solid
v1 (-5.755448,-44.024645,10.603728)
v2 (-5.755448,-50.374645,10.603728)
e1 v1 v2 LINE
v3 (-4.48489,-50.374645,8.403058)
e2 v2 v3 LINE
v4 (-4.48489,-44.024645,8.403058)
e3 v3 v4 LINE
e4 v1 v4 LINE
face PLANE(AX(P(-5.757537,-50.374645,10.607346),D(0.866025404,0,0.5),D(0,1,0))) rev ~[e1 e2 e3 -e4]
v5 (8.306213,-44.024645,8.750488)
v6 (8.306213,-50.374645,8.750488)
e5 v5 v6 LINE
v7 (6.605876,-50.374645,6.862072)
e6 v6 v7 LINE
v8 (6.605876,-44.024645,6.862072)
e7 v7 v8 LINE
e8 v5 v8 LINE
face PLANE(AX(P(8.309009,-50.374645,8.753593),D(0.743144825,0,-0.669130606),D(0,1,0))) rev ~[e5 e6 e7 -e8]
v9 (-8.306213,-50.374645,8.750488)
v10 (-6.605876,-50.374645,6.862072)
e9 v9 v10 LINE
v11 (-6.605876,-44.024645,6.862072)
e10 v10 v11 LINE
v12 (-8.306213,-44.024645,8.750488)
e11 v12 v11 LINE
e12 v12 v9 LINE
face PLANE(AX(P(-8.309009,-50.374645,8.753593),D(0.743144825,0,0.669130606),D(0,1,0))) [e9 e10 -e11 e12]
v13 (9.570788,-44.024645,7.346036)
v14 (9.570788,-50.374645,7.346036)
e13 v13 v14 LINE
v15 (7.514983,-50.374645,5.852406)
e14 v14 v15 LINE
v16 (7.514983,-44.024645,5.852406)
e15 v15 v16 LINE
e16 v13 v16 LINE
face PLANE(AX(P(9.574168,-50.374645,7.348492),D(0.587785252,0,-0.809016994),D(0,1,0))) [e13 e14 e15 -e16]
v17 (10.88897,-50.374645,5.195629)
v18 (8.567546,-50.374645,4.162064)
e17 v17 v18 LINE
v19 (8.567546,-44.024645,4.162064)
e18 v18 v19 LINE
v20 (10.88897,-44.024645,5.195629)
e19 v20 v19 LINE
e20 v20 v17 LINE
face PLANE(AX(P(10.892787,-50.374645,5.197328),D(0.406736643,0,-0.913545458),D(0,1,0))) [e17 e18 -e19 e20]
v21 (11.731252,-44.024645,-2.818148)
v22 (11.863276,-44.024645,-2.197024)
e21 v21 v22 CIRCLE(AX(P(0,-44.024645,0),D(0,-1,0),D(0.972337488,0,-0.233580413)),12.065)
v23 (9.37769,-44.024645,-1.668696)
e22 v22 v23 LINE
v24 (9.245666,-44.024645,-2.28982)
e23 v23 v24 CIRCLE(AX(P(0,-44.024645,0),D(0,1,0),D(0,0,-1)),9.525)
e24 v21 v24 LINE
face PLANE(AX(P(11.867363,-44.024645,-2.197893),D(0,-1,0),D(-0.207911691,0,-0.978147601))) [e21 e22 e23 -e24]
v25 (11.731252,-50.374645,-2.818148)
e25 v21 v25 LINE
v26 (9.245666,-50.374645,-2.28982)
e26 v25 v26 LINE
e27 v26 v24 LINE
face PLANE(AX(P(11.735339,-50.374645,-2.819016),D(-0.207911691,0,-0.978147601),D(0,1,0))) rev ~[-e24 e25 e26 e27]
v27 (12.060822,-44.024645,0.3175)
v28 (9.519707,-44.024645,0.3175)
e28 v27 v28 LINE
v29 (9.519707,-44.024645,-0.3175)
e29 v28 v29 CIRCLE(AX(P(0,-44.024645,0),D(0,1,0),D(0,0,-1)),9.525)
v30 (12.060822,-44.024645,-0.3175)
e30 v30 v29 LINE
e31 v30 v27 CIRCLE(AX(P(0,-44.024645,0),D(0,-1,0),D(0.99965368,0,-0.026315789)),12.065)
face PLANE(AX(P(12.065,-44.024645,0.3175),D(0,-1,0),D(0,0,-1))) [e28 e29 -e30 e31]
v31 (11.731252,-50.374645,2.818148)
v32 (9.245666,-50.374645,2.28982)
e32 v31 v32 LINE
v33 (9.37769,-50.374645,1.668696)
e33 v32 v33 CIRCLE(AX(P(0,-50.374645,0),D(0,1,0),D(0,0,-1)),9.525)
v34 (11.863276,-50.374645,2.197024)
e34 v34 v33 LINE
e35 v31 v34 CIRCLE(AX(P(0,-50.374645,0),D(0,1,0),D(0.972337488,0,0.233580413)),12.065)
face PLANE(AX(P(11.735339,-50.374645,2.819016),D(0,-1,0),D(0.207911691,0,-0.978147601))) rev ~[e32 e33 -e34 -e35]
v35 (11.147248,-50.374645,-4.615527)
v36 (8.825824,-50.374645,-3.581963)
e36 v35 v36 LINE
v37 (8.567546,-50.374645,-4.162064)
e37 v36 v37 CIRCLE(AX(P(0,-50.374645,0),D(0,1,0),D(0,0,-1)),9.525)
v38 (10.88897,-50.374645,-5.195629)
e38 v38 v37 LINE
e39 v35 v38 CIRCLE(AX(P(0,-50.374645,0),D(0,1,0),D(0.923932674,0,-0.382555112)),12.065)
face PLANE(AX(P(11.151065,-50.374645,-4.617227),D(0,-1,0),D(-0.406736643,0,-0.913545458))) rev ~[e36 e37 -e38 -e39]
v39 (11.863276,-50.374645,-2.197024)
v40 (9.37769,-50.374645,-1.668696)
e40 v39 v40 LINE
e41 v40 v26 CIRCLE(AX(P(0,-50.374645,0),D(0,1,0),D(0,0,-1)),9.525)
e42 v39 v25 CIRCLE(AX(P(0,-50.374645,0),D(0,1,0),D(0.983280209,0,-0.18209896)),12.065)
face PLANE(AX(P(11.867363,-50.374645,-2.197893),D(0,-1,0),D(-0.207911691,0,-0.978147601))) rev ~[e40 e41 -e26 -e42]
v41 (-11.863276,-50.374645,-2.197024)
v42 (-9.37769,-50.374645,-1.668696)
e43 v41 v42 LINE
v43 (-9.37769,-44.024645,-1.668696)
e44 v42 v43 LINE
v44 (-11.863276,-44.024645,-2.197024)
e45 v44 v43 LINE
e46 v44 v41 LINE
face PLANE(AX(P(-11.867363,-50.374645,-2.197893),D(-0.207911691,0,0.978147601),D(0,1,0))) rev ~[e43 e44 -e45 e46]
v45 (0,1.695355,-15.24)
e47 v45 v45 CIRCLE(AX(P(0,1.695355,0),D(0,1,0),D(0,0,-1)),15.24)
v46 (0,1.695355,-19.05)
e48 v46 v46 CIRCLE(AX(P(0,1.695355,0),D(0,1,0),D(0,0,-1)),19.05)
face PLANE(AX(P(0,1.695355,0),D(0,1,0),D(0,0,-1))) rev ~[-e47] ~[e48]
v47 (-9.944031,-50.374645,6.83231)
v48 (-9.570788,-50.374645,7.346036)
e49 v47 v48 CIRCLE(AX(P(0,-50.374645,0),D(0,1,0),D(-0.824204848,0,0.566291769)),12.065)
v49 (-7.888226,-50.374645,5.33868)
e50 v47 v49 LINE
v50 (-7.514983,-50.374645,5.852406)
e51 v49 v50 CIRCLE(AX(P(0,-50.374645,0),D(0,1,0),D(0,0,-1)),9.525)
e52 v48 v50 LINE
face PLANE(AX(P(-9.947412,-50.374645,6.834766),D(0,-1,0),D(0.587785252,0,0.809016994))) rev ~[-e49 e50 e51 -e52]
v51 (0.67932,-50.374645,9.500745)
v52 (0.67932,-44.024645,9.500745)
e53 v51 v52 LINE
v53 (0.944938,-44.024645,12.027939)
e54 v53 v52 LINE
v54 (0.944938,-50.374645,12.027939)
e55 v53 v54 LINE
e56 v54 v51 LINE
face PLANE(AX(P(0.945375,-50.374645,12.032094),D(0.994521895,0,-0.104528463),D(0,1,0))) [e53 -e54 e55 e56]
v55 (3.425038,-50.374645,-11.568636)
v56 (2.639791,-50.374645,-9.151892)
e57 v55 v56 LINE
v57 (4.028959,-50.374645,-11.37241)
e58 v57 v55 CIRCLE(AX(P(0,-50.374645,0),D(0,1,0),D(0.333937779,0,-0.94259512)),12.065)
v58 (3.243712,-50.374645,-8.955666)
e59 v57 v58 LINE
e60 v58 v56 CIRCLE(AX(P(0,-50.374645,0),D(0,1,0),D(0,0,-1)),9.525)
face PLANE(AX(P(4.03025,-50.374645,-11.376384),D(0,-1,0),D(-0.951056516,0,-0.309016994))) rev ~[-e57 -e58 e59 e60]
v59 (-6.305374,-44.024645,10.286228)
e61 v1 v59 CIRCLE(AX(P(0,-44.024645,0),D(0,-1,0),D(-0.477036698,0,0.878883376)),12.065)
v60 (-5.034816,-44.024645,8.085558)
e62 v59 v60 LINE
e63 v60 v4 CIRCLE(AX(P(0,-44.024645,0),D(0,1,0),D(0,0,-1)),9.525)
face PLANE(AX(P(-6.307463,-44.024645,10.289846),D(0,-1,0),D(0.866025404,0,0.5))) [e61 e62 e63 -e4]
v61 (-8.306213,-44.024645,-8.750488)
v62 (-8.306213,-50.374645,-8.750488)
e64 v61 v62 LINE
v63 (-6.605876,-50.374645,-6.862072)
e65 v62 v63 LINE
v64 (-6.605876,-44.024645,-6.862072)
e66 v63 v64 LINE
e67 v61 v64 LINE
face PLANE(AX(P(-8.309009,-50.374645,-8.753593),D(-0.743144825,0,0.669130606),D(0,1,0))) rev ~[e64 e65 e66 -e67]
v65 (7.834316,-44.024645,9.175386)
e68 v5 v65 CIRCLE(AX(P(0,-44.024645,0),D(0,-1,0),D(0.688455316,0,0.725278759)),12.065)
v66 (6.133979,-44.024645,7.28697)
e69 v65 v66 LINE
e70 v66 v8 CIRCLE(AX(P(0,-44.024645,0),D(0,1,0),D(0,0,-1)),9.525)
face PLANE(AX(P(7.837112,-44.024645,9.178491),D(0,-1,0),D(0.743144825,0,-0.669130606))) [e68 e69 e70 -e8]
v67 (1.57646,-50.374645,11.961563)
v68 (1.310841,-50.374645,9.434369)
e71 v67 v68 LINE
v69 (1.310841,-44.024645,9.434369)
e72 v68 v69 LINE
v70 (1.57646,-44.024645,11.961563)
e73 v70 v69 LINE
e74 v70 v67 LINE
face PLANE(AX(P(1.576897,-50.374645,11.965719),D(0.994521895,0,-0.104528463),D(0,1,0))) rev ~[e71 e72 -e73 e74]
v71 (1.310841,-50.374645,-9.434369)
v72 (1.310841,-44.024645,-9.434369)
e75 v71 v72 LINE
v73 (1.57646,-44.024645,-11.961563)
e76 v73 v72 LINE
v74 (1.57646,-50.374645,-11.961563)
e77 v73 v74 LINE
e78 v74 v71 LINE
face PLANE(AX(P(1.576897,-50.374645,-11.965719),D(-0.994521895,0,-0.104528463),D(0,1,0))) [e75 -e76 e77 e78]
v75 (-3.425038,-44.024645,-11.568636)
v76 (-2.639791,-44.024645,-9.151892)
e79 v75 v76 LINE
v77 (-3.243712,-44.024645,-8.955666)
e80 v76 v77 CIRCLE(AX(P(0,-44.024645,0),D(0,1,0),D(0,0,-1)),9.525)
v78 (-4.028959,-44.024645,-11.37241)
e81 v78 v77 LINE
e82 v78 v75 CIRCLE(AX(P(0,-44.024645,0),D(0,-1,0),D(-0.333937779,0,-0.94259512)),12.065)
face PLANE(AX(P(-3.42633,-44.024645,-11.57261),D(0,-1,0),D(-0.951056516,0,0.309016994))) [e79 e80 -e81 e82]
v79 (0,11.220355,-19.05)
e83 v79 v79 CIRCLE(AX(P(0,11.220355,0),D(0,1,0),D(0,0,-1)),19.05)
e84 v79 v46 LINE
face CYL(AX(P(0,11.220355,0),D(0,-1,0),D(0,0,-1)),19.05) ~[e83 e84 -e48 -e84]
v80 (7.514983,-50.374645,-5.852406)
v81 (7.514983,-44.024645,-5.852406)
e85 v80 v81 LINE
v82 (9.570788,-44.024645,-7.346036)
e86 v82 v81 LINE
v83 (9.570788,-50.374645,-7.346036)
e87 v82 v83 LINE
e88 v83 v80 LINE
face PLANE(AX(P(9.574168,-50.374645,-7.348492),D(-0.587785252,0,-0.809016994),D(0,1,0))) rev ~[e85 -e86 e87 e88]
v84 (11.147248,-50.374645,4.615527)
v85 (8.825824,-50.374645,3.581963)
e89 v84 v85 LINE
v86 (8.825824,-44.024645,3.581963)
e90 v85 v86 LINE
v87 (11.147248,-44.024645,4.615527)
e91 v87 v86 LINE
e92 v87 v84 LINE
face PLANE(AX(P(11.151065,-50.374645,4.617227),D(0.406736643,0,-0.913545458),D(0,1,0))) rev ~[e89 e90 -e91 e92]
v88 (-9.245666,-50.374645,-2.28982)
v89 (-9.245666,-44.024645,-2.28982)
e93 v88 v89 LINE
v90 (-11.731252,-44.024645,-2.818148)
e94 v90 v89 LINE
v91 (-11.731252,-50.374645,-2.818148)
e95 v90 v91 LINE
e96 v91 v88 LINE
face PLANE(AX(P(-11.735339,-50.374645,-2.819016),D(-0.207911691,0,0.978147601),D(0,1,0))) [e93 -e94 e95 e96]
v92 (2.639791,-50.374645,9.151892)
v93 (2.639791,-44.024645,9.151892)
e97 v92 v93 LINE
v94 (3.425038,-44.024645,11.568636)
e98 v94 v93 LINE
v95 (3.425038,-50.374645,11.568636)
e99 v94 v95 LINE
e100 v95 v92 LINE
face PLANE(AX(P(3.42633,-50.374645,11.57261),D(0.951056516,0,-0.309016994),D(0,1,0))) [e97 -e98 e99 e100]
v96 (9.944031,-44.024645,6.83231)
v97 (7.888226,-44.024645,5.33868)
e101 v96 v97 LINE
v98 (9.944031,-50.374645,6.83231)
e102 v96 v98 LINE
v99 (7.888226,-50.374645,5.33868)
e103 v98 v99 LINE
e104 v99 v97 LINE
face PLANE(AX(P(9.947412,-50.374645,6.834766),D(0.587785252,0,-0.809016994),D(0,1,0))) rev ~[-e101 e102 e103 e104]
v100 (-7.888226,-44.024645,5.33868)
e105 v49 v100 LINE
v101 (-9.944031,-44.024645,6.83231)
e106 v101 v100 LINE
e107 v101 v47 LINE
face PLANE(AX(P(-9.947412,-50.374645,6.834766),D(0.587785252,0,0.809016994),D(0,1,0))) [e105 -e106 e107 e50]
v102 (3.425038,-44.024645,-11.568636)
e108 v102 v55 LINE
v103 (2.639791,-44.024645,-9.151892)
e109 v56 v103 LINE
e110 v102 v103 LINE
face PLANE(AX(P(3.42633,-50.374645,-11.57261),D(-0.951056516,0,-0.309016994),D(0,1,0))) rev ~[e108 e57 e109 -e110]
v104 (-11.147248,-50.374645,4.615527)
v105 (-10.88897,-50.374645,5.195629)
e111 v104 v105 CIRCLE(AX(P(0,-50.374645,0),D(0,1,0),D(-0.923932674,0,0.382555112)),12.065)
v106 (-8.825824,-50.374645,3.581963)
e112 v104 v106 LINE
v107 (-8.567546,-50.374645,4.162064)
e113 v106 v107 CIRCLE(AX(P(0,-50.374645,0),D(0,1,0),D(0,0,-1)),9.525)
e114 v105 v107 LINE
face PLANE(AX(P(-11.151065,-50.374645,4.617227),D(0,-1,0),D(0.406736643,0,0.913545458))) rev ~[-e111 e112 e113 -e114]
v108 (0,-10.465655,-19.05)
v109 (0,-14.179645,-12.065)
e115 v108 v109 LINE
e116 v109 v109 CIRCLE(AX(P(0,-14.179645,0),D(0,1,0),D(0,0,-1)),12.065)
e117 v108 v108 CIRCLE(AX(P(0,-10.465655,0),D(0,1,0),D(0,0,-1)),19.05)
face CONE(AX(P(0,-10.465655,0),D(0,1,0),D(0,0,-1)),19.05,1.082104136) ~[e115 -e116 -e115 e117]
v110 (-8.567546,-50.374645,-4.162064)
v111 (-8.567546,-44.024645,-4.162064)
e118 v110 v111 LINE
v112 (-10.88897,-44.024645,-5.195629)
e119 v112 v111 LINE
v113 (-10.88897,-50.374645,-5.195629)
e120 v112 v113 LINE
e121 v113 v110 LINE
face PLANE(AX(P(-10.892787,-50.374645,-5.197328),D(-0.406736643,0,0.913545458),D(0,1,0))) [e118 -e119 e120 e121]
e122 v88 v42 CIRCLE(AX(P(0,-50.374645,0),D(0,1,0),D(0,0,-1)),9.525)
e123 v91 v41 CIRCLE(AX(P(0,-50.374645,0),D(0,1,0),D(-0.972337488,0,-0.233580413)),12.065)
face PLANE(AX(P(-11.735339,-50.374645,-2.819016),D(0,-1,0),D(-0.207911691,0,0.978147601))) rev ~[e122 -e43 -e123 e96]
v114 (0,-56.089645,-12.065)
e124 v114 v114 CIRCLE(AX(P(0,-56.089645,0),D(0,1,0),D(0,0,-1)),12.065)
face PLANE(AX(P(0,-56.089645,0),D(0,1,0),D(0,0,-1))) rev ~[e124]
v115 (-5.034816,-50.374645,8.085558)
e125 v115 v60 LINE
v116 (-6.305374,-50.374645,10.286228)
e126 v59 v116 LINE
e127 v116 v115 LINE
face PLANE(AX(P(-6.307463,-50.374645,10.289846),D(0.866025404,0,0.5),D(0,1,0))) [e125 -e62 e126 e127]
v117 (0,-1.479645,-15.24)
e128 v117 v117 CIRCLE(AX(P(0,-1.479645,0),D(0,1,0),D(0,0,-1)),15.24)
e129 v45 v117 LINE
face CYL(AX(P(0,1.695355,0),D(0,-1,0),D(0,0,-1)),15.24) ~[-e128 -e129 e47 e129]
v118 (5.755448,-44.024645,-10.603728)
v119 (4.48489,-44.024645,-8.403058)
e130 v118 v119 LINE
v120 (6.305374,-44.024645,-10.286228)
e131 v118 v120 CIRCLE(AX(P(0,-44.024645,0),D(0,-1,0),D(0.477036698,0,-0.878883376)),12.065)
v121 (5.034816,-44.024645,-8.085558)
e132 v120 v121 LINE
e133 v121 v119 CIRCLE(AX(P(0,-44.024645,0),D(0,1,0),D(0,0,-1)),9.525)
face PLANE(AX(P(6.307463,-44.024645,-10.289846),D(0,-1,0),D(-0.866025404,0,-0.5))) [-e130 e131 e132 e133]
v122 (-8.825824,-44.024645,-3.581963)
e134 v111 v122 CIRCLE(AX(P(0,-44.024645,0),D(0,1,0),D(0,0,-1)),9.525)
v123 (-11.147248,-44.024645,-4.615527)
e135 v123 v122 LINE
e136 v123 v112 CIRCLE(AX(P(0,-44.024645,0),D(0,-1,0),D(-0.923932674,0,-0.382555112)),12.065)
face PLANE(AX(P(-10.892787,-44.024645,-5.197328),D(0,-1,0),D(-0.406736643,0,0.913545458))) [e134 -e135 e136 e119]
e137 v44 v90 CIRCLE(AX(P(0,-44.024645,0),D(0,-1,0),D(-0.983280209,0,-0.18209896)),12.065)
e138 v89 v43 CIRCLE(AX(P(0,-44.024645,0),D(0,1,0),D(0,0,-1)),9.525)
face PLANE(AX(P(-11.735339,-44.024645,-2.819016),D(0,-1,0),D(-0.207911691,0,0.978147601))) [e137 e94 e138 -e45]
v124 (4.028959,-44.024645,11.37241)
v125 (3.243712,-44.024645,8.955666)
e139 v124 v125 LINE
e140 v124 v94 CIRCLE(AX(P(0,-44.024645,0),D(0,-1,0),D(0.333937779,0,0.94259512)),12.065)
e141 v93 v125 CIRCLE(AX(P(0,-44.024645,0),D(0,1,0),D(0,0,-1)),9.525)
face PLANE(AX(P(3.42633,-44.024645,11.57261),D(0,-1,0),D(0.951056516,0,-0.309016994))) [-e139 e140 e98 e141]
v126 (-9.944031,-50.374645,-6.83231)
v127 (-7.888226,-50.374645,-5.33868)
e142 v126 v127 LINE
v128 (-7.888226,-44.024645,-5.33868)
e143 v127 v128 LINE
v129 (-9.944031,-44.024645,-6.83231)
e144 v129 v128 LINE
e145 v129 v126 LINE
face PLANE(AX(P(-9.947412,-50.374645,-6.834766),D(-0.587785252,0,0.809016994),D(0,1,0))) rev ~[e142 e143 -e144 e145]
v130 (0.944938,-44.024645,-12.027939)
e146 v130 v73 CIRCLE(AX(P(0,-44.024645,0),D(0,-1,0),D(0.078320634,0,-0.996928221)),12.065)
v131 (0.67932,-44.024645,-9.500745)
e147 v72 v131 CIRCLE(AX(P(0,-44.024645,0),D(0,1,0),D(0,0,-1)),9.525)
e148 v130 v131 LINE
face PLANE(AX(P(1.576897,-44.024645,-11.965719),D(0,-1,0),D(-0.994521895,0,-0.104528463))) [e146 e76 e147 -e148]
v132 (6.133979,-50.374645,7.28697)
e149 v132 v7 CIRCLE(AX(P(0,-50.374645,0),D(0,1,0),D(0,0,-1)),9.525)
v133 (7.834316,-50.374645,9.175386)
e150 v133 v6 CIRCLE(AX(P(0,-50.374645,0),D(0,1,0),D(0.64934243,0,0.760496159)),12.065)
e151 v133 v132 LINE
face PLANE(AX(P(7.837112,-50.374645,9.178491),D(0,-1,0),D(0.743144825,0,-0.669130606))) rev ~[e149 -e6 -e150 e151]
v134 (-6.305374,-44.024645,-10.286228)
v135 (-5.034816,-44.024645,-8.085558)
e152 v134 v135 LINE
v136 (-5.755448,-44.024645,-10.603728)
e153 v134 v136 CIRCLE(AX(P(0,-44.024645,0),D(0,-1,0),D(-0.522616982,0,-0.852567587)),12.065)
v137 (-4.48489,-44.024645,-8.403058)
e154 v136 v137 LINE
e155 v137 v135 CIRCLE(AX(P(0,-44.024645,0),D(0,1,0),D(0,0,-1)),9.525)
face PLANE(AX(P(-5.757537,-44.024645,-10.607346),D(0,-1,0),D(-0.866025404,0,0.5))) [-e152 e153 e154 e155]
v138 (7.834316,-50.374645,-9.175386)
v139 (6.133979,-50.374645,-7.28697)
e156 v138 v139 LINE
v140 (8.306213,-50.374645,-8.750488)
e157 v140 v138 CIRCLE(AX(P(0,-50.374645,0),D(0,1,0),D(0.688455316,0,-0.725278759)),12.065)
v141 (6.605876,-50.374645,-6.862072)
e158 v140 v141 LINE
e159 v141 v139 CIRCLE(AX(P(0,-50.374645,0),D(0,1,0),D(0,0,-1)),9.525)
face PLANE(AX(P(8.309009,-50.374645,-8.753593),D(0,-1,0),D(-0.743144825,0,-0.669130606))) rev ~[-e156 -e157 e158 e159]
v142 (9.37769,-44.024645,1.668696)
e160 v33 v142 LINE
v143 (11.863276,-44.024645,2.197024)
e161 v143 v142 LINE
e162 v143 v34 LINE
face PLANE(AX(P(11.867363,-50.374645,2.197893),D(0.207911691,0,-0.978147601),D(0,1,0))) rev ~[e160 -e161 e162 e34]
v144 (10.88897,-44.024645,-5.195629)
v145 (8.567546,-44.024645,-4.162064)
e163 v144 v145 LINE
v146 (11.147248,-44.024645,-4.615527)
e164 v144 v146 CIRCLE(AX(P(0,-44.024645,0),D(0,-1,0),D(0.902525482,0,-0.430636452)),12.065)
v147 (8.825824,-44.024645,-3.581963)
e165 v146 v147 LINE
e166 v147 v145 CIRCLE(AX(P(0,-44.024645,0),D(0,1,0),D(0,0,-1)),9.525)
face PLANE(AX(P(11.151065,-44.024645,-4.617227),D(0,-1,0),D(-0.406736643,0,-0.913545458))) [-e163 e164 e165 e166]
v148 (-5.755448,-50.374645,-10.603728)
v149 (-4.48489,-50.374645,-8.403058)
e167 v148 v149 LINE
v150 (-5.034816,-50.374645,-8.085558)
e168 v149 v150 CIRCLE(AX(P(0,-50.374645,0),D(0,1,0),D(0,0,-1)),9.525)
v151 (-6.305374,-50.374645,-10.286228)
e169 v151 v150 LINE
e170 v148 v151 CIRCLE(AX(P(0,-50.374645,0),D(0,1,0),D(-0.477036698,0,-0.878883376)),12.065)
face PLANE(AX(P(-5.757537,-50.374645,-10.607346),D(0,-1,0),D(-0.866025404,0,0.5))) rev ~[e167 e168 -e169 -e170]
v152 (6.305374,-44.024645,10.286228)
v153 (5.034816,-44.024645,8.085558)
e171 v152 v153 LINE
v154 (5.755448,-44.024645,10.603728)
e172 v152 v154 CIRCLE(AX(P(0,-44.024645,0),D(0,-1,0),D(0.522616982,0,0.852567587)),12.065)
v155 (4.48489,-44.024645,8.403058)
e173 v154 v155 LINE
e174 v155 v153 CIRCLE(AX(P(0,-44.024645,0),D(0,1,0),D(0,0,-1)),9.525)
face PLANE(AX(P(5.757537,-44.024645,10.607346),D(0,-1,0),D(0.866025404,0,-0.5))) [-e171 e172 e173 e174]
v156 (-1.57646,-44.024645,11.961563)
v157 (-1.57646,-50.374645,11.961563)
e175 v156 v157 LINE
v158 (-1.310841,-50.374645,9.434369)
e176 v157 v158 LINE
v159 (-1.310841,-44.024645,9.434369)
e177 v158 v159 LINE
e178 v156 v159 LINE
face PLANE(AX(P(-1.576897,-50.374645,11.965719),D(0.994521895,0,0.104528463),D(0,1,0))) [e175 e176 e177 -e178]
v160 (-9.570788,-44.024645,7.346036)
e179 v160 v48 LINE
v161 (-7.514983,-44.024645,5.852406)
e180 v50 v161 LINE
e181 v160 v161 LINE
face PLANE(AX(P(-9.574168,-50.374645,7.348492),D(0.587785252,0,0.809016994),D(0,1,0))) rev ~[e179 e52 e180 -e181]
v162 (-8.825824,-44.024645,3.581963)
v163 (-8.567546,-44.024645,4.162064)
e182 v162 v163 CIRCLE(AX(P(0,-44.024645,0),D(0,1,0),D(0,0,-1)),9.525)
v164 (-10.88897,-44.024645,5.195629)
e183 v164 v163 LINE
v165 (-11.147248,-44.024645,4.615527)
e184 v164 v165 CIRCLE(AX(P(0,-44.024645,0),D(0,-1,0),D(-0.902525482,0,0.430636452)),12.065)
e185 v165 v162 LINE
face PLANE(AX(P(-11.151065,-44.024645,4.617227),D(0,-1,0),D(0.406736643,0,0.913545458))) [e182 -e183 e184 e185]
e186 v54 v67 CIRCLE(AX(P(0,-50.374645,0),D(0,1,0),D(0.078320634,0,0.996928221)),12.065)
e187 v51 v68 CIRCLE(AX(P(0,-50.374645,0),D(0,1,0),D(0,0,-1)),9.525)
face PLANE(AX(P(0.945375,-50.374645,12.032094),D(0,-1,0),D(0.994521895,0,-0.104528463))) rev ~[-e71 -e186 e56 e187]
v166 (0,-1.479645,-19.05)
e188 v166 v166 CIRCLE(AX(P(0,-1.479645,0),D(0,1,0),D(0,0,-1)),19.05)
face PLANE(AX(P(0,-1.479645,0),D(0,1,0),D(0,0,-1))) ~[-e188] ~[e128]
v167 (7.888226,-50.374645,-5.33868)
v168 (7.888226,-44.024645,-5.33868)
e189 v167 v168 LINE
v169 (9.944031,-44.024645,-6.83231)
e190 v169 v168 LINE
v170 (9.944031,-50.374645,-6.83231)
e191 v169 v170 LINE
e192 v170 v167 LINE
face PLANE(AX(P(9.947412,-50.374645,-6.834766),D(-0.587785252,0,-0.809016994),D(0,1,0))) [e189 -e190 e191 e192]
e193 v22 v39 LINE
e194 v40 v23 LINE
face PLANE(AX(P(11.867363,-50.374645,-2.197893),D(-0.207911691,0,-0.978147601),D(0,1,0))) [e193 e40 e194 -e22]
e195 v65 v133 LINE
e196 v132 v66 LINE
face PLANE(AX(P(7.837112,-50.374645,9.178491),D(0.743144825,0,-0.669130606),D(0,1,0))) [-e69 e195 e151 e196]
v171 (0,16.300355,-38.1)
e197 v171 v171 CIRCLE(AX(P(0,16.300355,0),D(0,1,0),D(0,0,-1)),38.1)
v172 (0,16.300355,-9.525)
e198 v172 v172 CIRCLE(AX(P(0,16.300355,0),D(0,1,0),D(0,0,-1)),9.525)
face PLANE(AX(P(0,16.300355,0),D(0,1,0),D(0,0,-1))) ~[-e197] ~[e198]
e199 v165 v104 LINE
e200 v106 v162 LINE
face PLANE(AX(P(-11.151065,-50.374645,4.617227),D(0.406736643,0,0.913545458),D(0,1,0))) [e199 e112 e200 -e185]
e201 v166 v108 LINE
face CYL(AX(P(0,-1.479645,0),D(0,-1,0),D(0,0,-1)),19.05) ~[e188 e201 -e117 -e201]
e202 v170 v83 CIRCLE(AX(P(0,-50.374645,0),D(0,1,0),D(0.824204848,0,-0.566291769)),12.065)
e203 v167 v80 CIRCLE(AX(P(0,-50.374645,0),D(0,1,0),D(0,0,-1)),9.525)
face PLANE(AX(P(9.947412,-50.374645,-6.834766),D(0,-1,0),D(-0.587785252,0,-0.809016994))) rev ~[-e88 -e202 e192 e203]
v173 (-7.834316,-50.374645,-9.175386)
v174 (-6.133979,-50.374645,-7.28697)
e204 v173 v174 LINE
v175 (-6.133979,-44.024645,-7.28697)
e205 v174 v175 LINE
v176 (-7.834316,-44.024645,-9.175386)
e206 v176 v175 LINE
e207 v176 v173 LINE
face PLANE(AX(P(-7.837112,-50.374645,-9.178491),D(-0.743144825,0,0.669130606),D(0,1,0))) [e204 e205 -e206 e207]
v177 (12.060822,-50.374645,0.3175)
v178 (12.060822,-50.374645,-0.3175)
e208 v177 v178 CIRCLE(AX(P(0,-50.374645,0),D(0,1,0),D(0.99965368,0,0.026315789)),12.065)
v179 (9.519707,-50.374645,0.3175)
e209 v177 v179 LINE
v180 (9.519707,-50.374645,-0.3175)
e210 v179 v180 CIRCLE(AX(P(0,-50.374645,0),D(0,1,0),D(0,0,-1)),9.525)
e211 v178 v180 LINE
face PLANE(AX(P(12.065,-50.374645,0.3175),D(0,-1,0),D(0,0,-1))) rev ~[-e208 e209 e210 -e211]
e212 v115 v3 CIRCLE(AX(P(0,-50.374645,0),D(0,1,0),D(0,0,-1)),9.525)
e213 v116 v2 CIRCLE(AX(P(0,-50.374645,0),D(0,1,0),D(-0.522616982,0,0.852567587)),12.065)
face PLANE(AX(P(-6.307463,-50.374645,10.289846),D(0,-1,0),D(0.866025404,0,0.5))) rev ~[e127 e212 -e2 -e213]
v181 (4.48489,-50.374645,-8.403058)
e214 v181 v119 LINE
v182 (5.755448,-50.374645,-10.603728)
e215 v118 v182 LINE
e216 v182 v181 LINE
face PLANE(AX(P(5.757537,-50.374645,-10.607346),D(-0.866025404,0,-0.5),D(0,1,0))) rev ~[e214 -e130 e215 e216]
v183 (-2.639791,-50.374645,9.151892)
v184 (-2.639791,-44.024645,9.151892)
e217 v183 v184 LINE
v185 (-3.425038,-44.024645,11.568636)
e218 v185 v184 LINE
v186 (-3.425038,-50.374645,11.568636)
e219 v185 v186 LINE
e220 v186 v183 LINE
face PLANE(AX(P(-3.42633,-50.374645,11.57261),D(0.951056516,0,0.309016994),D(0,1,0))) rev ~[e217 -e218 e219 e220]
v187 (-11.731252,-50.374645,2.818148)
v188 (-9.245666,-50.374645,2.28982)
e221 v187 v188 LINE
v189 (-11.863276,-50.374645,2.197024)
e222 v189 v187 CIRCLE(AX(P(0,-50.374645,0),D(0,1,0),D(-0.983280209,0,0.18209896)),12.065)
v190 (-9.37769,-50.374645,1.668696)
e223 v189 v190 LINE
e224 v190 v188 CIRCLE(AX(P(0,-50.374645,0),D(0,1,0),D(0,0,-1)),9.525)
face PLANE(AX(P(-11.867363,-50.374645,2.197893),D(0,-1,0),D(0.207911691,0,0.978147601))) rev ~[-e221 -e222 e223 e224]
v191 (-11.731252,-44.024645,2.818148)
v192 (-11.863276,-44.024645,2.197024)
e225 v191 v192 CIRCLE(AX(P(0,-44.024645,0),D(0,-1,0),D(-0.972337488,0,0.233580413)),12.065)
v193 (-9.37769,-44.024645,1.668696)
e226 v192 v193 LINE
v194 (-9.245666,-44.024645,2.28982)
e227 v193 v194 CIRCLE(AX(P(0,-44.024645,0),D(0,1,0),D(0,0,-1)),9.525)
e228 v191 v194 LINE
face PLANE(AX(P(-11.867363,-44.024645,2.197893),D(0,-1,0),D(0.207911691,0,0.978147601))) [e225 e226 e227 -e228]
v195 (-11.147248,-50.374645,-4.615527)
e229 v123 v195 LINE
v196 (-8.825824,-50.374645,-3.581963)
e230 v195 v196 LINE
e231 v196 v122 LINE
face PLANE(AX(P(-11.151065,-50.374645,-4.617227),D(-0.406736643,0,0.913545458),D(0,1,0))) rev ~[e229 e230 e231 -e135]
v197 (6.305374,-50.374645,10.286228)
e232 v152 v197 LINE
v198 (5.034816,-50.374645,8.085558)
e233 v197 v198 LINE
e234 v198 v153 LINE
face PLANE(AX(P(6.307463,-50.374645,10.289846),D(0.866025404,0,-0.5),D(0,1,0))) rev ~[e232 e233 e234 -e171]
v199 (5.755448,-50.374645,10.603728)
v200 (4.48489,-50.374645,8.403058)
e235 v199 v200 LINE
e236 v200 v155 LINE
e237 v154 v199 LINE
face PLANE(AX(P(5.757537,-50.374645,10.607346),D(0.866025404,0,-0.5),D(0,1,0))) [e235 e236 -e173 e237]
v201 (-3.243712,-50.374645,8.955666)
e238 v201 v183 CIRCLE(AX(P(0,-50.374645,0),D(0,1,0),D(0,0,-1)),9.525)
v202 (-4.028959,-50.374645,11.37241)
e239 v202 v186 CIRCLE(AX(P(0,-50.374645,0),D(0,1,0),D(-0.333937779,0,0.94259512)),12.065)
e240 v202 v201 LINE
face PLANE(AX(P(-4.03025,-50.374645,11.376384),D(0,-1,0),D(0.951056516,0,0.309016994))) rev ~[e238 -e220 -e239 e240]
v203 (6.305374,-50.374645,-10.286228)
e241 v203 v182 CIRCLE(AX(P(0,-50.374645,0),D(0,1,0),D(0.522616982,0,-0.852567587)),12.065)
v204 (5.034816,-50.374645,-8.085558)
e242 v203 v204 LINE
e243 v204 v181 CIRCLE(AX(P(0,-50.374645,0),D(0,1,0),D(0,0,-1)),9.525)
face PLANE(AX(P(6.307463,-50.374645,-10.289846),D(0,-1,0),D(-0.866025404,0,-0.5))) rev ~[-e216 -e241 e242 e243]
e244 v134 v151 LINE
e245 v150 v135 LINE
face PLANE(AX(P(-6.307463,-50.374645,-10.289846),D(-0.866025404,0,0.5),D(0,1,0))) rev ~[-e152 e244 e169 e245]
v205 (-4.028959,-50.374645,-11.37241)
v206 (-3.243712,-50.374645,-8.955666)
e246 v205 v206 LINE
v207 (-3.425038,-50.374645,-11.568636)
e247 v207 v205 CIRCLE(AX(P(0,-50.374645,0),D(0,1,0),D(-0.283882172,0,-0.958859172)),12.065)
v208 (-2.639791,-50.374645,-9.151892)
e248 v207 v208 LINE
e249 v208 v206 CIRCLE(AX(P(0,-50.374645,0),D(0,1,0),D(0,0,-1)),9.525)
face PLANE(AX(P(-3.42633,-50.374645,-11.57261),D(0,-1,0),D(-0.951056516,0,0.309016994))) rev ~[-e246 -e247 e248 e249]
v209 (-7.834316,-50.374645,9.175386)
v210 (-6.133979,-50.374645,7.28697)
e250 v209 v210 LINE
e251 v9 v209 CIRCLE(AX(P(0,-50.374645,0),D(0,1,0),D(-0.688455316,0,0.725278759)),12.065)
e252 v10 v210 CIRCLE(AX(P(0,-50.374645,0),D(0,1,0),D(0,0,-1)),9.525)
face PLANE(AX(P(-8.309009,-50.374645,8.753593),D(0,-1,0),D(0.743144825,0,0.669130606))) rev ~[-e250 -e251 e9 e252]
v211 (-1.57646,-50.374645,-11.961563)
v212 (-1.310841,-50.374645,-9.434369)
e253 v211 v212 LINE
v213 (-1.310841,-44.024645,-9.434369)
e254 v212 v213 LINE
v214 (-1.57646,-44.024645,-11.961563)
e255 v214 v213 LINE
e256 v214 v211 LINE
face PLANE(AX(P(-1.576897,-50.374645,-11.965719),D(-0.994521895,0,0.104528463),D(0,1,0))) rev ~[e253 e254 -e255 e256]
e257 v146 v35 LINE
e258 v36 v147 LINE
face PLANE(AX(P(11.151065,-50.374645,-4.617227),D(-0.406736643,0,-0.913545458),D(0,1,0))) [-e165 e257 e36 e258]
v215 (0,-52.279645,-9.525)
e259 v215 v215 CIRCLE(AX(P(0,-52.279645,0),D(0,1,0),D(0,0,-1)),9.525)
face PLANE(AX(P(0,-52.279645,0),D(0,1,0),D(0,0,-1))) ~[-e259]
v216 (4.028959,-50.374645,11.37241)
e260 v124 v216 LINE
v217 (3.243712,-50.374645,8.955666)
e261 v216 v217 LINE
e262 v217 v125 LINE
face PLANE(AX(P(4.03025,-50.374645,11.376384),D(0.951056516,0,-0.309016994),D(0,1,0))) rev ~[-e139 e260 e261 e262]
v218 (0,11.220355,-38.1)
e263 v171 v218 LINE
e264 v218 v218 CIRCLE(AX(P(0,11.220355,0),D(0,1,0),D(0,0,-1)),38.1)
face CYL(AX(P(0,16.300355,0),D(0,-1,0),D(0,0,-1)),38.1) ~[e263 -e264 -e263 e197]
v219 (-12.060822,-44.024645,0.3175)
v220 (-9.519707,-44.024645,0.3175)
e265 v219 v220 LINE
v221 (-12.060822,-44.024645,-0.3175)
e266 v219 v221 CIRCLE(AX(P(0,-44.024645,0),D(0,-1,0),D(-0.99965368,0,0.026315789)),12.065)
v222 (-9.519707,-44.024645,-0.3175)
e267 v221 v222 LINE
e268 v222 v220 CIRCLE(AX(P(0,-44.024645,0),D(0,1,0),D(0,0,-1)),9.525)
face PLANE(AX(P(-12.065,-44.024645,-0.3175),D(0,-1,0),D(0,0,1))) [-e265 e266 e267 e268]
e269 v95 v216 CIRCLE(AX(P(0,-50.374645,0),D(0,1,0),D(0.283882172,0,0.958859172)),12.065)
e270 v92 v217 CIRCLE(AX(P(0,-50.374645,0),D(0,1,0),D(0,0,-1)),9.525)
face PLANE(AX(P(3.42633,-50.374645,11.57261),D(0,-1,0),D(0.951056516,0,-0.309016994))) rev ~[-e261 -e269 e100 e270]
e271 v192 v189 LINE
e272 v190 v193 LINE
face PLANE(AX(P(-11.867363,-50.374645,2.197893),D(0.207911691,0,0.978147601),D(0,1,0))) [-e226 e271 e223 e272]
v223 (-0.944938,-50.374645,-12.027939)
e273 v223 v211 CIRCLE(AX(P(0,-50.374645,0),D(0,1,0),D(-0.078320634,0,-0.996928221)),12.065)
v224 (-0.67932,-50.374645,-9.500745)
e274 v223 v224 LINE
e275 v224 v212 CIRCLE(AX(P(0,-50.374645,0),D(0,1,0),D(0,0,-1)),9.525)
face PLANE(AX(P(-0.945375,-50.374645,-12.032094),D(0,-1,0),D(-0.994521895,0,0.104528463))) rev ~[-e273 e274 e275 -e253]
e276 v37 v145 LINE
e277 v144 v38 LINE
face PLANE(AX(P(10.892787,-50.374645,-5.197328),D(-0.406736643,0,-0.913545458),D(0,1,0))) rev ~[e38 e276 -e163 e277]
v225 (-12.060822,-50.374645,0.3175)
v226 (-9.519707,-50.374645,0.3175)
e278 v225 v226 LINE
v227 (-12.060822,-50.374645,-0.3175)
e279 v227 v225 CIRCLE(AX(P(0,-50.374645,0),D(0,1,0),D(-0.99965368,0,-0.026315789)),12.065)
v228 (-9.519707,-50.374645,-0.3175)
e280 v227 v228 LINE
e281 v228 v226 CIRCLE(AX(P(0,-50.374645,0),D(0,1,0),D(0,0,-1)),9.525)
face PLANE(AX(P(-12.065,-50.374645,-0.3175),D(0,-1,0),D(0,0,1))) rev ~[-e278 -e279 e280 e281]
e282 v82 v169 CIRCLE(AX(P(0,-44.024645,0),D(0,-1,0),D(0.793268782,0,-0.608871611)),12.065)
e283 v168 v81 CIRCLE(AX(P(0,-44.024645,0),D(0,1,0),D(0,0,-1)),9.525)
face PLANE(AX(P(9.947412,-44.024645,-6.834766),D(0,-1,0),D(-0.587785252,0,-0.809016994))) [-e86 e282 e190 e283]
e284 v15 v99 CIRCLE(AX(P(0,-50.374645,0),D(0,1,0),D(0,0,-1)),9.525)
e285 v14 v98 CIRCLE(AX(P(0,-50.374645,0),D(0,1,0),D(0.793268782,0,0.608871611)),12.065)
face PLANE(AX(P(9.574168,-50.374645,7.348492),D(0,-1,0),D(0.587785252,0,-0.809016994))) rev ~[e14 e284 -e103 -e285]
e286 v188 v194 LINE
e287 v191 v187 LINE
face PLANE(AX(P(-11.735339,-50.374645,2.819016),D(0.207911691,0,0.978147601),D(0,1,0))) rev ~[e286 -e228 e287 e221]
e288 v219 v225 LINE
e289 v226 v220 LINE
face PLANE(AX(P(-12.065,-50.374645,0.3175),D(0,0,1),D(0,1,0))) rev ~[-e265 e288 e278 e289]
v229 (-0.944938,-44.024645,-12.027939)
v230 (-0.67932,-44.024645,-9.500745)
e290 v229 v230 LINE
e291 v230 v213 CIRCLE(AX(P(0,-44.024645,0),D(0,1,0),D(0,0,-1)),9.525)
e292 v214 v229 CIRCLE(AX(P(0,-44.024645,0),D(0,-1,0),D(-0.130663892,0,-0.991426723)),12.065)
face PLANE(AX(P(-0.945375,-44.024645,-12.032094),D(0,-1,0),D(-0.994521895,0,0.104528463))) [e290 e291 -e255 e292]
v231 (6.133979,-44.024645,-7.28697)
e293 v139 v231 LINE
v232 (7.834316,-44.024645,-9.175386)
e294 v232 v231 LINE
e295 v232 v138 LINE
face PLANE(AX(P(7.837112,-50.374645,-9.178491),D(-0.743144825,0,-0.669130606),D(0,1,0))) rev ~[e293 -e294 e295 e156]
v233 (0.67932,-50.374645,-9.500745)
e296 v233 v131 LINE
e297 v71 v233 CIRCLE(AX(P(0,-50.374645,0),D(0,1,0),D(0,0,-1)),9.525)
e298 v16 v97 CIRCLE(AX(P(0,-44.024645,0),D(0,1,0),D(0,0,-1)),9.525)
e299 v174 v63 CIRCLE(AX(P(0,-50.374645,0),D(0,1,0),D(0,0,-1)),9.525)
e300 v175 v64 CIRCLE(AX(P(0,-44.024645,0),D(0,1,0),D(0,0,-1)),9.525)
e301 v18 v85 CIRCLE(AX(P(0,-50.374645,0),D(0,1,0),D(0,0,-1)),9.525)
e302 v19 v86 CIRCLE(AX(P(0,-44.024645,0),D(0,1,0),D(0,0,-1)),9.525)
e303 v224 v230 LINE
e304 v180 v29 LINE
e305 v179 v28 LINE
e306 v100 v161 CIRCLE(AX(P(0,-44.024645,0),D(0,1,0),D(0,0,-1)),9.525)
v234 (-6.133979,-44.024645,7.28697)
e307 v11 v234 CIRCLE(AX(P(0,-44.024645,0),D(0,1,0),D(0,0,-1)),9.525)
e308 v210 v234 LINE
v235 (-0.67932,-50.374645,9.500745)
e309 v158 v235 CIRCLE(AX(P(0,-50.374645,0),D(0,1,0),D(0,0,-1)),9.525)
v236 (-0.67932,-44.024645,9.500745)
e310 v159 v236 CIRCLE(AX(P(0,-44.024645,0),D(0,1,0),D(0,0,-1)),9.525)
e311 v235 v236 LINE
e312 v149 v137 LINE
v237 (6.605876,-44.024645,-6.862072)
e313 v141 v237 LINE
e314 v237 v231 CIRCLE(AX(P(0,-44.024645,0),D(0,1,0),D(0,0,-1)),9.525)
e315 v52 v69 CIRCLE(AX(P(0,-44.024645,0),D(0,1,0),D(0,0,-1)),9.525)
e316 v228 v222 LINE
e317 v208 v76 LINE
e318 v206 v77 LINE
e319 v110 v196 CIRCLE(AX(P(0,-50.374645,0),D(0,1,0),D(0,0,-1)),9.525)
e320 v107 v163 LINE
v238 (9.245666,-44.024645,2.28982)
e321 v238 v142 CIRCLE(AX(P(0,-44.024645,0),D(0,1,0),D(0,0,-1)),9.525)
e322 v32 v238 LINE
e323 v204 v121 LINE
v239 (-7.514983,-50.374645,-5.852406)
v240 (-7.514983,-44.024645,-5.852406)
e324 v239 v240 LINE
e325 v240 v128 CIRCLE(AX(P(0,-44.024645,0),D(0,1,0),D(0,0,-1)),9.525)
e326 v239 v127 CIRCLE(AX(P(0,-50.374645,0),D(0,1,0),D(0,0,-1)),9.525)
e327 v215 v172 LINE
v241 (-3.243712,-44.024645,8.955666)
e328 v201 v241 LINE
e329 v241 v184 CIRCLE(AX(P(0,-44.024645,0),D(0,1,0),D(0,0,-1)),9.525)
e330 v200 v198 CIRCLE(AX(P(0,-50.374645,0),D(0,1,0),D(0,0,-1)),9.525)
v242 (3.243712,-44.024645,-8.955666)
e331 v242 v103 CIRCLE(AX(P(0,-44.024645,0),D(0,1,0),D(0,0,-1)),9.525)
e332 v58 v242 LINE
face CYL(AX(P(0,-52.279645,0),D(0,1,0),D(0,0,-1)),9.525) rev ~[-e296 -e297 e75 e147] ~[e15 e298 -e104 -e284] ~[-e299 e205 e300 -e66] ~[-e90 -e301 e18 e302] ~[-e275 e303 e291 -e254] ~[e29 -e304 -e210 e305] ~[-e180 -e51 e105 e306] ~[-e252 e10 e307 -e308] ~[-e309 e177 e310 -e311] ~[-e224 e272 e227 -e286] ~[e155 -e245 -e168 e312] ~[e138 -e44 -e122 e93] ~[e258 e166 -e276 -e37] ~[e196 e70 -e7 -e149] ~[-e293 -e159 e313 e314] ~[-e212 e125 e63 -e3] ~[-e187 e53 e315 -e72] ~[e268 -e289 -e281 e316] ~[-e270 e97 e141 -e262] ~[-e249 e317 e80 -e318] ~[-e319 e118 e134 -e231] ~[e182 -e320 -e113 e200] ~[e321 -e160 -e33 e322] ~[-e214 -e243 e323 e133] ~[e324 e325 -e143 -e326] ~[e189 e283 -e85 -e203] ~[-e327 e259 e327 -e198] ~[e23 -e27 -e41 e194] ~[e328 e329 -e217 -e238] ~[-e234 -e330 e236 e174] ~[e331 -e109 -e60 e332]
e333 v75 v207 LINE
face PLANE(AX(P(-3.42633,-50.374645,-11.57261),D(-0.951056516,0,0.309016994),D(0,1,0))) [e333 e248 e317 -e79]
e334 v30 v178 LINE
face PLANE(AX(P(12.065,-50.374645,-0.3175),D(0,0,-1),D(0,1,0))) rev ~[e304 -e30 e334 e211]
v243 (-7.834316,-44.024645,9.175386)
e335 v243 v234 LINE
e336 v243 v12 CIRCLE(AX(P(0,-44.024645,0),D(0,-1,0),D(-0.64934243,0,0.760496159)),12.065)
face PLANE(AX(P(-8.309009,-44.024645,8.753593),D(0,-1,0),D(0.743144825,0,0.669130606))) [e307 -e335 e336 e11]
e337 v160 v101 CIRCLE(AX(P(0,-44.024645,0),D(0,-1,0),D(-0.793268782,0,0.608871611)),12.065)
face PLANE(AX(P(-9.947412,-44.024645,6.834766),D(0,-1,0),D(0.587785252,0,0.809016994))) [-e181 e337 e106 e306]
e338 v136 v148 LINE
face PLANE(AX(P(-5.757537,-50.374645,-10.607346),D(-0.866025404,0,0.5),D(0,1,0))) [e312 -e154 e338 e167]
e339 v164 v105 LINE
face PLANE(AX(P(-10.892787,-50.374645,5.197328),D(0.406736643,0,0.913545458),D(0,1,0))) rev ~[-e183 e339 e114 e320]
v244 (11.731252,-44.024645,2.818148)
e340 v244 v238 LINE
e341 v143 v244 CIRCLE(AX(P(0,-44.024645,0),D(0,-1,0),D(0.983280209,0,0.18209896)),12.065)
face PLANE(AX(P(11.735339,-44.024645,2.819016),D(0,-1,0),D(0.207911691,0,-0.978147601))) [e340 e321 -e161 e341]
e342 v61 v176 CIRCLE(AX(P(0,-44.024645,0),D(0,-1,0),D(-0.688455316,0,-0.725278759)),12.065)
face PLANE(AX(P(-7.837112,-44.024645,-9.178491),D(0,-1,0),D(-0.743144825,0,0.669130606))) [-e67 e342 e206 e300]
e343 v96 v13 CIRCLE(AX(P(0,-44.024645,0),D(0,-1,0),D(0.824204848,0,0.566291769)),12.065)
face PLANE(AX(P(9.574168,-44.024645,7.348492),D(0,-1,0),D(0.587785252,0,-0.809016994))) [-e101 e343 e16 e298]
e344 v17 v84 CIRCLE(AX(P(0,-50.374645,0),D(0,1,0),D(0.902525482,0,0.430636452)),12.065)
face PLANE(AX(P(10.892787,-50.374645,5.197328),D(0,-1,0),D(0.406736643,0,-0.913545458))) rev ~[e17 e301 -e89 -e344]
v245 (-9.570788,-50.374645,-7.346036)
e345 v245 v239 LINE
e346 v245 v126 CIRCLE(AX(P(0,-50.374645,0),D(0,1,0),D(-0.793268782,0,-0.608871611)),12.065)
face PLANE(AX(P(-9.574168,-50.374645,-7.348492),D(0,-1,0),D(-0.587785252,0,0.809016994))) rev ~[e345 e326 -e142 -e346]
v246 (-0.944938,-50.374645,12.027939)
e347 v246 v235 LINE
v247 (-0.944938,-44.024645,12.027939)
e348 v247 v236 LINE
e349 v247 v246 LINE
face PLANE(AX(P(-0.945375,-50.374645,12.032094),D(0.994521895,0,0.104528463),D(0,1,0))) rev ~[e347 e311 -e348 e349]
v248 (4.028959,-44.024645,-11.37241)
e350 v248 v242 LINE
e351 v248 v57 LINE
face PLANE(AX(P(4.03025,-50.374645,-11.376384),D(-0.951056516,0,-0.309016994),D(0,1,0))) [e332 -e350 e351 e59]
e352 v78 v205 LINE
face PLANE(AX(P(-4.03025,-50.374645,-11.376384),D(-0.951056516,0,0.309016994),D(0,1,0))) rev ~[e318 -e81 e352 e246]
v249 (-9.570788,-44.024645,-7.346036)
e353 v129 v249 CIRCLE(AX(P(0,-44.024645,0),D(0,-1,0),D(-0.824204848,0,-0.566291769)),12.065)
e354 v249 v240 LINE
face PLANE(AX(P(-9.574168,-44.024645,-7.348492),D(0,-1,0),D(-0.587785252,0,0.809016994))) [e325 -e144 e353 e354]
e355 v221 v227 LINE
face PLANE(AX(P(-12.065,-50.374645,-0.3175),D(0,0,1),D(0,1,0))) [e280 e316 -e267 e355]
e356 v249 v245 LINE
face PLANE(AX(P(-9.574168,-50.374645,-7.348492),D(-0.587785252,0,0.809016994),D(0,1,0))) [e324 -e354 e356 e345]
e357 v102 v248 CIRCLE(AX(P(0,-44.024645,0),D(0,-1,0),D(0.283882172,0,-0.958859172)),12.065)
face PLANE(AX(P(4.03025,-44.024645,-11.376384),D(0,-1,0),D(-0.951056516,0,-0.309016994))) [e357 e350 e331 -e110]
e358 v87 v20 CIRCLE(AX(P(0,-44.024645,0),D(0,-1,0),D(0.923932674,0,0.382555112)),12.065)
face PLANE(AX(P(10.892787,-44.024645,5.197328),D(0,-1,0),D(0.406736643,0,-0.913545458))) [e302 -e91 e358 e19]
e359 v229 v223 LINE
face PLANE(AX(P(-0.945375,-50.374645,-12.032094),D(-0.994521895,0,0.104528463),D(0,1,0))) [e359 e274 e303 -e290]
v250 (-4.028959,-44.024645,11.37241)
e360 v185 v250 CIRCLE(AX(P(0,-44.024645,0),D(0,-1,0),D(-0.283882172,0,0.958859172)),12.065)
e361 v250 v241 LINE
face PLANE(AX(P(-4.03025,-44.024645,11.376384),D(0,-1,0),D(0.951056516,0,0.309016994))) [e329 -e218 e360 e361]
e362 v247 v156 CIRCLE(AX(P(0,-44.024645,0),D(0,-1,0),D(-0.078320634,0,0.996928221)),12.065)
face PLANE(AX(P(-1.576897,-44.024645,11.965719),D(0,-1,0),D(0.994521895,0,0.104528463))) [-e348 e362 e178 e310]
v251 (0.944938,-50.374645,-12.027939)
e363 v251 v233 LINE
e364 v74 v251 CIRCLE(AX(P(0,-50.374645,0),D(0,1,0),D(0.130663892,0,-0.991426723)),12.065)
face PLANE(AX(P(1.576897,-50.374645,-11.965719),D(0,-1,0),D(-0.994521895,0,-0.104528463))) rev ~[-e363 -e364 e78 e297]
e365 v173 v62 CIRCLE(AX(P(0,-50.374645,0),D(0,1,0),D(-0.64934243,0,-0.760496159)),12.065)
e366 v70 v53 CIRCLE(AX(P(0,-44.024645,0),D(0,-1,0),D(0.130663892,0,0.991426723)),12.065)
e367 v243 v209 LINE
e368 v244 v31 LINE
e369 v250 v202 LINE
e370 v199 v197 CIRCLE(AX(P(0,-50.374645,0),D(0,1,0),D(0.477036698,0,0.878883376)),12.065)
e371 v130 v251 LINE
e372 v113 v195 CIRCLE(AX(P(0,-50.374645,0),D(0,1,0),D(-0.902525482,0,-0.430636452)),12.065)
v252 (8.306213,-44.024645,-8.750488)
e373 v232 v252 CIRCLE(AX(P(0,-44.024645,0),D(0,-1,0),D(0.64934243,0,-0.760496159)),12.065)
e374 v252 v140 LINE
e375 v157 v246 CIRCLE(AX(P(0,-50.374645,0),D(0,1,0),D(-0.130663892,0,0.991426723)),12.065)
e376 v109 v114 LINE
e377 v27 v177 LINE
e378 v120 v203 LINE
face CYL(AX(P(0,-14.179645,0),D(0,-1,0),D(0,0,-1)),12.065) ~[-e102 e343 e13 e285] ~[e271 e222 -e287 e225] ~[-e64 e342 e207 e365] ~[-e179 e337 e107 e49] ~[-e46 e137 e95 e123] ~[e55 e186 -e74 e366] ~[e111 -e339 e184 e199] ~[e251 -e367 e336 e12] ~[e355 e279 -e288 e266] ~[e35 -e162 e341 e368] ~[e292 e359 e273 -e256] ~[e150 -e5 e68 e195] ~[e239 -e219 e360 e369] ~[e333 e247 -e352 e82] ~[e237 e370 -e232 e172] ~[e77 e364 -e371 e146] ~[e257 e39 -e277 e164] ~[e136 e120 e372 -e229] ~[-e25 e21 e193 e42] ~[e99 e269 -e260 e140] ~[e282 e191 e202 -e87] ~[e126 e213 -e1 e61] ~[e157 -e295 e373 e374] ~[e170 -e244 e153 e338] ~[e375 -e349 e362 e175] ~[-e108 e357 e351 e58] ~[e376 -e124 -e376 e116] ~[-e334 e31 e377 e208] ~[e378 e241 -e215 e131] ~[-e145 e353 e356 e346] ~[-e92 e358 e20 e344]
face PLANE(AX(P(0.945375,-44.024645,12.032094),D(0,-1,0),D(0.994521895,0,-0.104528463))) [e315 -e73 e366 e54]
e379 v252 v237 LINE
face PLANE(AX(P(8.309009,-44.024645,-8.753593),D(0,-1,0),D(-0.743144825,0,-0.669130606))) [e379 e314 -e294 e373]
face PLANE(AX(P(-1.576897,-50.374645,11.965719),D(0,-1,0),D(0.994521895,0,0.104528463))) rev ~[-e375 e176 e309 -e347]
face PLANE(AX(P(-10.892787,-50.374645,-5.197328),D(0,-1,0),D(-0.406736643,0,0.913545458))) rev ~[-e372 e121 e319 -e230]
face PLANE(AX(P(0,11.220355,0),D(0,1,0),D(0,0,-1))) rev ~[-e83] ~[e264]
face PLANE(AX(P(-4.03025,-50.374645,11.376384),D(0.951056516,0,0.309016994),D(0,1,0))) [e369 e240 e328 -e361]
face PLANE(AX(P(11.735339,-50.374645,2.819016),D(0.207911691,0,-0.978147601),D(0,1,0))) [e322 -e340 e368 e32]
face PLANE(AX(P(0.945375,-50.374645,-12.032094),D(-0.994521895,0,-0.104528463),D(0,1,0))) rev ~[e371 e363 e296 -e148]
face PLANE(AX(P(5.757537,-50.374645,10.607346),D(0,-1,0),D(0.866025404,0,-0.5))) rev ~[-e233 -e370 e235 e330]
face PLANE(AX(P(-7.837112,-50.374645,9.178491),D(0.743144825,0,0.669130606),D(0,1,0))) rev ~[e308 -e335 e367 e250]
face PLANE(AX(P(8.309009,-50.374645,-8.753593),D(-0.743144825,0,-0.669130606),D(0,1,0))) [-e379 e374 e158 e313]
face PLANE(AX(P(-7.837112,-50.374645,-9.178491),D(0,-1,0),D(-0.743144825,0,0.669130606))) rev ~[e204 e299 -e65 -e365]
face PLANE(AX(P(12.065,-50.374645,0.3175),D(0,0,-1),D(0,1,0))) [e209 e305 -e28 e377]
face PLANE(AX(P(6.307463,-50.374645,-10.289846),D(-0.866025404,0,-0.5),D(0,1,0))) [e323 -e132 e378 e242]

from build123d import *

# Parameters (mm, degrees)
SKETCH4_W          = 0.635
SKETCH4_H          = 6.35
CUT_EXTRUDE2_DEPTH = 6.35
CIRPATTERN1_COUNT  = 30


with BuildPart() as part:
    # Sketch3 → Revolve1 (revolve)
    with BuildSketch(Plane.XY, mode=Mode.PRIVATE) as revolve1_sk:
        Polygon((-38.1, 16.300354852), (-38.1, 11.220354852), (-19.05, 11.220354852), (-19.05, 1.695354852), (-15.24, 1.695354852), (-15.24, -1.479645148), (-19.05, -1.479645148), (-19.05, -10.465654768), (-12.065, -14.179645148), (-12.065, -56.089645148), (0, -56.089645148), (0, -52.279645148), (-9.525, -52.279645148), (-9.525, 16.300354852), align=None)
    revolve(revolve1_sk.sketch.rotate(Axis((0, 0, 0), (0, 1, 0)), 270), axis=Axis((0, 0, 0), (0, 1, 0)))

    # Sketch4 → Cut-Extrude2 (cut)
    with BuildSketch(Plane(origin=(12.065, 0, 0), x_dir=(0, 0, -1), z_dir=(1, 0, 0))):
        with Locations((0, -47.199645148)):
            Rectangle(SKETCH4_W, SKETCH4_H)
    cut_extrude2 = extrude(amount=-CUT_EXTRUDE2_DEPTH, mode=Mode.SUBTRACT)

    # CirPattern1: Cut-Extrude2 ×30 about axis
    cirpattern1_axis = Axis((0, 0, 0), (0, 1, 0))
    for i in range(1, CIRPATTERN1_COUNT):
        add(cut_extrude2.rotate(cirpattern1_axis, i * 360 / CIRPATTERN1_COUNT), mode=Mode.SUBTRACT)


solid = part.part
